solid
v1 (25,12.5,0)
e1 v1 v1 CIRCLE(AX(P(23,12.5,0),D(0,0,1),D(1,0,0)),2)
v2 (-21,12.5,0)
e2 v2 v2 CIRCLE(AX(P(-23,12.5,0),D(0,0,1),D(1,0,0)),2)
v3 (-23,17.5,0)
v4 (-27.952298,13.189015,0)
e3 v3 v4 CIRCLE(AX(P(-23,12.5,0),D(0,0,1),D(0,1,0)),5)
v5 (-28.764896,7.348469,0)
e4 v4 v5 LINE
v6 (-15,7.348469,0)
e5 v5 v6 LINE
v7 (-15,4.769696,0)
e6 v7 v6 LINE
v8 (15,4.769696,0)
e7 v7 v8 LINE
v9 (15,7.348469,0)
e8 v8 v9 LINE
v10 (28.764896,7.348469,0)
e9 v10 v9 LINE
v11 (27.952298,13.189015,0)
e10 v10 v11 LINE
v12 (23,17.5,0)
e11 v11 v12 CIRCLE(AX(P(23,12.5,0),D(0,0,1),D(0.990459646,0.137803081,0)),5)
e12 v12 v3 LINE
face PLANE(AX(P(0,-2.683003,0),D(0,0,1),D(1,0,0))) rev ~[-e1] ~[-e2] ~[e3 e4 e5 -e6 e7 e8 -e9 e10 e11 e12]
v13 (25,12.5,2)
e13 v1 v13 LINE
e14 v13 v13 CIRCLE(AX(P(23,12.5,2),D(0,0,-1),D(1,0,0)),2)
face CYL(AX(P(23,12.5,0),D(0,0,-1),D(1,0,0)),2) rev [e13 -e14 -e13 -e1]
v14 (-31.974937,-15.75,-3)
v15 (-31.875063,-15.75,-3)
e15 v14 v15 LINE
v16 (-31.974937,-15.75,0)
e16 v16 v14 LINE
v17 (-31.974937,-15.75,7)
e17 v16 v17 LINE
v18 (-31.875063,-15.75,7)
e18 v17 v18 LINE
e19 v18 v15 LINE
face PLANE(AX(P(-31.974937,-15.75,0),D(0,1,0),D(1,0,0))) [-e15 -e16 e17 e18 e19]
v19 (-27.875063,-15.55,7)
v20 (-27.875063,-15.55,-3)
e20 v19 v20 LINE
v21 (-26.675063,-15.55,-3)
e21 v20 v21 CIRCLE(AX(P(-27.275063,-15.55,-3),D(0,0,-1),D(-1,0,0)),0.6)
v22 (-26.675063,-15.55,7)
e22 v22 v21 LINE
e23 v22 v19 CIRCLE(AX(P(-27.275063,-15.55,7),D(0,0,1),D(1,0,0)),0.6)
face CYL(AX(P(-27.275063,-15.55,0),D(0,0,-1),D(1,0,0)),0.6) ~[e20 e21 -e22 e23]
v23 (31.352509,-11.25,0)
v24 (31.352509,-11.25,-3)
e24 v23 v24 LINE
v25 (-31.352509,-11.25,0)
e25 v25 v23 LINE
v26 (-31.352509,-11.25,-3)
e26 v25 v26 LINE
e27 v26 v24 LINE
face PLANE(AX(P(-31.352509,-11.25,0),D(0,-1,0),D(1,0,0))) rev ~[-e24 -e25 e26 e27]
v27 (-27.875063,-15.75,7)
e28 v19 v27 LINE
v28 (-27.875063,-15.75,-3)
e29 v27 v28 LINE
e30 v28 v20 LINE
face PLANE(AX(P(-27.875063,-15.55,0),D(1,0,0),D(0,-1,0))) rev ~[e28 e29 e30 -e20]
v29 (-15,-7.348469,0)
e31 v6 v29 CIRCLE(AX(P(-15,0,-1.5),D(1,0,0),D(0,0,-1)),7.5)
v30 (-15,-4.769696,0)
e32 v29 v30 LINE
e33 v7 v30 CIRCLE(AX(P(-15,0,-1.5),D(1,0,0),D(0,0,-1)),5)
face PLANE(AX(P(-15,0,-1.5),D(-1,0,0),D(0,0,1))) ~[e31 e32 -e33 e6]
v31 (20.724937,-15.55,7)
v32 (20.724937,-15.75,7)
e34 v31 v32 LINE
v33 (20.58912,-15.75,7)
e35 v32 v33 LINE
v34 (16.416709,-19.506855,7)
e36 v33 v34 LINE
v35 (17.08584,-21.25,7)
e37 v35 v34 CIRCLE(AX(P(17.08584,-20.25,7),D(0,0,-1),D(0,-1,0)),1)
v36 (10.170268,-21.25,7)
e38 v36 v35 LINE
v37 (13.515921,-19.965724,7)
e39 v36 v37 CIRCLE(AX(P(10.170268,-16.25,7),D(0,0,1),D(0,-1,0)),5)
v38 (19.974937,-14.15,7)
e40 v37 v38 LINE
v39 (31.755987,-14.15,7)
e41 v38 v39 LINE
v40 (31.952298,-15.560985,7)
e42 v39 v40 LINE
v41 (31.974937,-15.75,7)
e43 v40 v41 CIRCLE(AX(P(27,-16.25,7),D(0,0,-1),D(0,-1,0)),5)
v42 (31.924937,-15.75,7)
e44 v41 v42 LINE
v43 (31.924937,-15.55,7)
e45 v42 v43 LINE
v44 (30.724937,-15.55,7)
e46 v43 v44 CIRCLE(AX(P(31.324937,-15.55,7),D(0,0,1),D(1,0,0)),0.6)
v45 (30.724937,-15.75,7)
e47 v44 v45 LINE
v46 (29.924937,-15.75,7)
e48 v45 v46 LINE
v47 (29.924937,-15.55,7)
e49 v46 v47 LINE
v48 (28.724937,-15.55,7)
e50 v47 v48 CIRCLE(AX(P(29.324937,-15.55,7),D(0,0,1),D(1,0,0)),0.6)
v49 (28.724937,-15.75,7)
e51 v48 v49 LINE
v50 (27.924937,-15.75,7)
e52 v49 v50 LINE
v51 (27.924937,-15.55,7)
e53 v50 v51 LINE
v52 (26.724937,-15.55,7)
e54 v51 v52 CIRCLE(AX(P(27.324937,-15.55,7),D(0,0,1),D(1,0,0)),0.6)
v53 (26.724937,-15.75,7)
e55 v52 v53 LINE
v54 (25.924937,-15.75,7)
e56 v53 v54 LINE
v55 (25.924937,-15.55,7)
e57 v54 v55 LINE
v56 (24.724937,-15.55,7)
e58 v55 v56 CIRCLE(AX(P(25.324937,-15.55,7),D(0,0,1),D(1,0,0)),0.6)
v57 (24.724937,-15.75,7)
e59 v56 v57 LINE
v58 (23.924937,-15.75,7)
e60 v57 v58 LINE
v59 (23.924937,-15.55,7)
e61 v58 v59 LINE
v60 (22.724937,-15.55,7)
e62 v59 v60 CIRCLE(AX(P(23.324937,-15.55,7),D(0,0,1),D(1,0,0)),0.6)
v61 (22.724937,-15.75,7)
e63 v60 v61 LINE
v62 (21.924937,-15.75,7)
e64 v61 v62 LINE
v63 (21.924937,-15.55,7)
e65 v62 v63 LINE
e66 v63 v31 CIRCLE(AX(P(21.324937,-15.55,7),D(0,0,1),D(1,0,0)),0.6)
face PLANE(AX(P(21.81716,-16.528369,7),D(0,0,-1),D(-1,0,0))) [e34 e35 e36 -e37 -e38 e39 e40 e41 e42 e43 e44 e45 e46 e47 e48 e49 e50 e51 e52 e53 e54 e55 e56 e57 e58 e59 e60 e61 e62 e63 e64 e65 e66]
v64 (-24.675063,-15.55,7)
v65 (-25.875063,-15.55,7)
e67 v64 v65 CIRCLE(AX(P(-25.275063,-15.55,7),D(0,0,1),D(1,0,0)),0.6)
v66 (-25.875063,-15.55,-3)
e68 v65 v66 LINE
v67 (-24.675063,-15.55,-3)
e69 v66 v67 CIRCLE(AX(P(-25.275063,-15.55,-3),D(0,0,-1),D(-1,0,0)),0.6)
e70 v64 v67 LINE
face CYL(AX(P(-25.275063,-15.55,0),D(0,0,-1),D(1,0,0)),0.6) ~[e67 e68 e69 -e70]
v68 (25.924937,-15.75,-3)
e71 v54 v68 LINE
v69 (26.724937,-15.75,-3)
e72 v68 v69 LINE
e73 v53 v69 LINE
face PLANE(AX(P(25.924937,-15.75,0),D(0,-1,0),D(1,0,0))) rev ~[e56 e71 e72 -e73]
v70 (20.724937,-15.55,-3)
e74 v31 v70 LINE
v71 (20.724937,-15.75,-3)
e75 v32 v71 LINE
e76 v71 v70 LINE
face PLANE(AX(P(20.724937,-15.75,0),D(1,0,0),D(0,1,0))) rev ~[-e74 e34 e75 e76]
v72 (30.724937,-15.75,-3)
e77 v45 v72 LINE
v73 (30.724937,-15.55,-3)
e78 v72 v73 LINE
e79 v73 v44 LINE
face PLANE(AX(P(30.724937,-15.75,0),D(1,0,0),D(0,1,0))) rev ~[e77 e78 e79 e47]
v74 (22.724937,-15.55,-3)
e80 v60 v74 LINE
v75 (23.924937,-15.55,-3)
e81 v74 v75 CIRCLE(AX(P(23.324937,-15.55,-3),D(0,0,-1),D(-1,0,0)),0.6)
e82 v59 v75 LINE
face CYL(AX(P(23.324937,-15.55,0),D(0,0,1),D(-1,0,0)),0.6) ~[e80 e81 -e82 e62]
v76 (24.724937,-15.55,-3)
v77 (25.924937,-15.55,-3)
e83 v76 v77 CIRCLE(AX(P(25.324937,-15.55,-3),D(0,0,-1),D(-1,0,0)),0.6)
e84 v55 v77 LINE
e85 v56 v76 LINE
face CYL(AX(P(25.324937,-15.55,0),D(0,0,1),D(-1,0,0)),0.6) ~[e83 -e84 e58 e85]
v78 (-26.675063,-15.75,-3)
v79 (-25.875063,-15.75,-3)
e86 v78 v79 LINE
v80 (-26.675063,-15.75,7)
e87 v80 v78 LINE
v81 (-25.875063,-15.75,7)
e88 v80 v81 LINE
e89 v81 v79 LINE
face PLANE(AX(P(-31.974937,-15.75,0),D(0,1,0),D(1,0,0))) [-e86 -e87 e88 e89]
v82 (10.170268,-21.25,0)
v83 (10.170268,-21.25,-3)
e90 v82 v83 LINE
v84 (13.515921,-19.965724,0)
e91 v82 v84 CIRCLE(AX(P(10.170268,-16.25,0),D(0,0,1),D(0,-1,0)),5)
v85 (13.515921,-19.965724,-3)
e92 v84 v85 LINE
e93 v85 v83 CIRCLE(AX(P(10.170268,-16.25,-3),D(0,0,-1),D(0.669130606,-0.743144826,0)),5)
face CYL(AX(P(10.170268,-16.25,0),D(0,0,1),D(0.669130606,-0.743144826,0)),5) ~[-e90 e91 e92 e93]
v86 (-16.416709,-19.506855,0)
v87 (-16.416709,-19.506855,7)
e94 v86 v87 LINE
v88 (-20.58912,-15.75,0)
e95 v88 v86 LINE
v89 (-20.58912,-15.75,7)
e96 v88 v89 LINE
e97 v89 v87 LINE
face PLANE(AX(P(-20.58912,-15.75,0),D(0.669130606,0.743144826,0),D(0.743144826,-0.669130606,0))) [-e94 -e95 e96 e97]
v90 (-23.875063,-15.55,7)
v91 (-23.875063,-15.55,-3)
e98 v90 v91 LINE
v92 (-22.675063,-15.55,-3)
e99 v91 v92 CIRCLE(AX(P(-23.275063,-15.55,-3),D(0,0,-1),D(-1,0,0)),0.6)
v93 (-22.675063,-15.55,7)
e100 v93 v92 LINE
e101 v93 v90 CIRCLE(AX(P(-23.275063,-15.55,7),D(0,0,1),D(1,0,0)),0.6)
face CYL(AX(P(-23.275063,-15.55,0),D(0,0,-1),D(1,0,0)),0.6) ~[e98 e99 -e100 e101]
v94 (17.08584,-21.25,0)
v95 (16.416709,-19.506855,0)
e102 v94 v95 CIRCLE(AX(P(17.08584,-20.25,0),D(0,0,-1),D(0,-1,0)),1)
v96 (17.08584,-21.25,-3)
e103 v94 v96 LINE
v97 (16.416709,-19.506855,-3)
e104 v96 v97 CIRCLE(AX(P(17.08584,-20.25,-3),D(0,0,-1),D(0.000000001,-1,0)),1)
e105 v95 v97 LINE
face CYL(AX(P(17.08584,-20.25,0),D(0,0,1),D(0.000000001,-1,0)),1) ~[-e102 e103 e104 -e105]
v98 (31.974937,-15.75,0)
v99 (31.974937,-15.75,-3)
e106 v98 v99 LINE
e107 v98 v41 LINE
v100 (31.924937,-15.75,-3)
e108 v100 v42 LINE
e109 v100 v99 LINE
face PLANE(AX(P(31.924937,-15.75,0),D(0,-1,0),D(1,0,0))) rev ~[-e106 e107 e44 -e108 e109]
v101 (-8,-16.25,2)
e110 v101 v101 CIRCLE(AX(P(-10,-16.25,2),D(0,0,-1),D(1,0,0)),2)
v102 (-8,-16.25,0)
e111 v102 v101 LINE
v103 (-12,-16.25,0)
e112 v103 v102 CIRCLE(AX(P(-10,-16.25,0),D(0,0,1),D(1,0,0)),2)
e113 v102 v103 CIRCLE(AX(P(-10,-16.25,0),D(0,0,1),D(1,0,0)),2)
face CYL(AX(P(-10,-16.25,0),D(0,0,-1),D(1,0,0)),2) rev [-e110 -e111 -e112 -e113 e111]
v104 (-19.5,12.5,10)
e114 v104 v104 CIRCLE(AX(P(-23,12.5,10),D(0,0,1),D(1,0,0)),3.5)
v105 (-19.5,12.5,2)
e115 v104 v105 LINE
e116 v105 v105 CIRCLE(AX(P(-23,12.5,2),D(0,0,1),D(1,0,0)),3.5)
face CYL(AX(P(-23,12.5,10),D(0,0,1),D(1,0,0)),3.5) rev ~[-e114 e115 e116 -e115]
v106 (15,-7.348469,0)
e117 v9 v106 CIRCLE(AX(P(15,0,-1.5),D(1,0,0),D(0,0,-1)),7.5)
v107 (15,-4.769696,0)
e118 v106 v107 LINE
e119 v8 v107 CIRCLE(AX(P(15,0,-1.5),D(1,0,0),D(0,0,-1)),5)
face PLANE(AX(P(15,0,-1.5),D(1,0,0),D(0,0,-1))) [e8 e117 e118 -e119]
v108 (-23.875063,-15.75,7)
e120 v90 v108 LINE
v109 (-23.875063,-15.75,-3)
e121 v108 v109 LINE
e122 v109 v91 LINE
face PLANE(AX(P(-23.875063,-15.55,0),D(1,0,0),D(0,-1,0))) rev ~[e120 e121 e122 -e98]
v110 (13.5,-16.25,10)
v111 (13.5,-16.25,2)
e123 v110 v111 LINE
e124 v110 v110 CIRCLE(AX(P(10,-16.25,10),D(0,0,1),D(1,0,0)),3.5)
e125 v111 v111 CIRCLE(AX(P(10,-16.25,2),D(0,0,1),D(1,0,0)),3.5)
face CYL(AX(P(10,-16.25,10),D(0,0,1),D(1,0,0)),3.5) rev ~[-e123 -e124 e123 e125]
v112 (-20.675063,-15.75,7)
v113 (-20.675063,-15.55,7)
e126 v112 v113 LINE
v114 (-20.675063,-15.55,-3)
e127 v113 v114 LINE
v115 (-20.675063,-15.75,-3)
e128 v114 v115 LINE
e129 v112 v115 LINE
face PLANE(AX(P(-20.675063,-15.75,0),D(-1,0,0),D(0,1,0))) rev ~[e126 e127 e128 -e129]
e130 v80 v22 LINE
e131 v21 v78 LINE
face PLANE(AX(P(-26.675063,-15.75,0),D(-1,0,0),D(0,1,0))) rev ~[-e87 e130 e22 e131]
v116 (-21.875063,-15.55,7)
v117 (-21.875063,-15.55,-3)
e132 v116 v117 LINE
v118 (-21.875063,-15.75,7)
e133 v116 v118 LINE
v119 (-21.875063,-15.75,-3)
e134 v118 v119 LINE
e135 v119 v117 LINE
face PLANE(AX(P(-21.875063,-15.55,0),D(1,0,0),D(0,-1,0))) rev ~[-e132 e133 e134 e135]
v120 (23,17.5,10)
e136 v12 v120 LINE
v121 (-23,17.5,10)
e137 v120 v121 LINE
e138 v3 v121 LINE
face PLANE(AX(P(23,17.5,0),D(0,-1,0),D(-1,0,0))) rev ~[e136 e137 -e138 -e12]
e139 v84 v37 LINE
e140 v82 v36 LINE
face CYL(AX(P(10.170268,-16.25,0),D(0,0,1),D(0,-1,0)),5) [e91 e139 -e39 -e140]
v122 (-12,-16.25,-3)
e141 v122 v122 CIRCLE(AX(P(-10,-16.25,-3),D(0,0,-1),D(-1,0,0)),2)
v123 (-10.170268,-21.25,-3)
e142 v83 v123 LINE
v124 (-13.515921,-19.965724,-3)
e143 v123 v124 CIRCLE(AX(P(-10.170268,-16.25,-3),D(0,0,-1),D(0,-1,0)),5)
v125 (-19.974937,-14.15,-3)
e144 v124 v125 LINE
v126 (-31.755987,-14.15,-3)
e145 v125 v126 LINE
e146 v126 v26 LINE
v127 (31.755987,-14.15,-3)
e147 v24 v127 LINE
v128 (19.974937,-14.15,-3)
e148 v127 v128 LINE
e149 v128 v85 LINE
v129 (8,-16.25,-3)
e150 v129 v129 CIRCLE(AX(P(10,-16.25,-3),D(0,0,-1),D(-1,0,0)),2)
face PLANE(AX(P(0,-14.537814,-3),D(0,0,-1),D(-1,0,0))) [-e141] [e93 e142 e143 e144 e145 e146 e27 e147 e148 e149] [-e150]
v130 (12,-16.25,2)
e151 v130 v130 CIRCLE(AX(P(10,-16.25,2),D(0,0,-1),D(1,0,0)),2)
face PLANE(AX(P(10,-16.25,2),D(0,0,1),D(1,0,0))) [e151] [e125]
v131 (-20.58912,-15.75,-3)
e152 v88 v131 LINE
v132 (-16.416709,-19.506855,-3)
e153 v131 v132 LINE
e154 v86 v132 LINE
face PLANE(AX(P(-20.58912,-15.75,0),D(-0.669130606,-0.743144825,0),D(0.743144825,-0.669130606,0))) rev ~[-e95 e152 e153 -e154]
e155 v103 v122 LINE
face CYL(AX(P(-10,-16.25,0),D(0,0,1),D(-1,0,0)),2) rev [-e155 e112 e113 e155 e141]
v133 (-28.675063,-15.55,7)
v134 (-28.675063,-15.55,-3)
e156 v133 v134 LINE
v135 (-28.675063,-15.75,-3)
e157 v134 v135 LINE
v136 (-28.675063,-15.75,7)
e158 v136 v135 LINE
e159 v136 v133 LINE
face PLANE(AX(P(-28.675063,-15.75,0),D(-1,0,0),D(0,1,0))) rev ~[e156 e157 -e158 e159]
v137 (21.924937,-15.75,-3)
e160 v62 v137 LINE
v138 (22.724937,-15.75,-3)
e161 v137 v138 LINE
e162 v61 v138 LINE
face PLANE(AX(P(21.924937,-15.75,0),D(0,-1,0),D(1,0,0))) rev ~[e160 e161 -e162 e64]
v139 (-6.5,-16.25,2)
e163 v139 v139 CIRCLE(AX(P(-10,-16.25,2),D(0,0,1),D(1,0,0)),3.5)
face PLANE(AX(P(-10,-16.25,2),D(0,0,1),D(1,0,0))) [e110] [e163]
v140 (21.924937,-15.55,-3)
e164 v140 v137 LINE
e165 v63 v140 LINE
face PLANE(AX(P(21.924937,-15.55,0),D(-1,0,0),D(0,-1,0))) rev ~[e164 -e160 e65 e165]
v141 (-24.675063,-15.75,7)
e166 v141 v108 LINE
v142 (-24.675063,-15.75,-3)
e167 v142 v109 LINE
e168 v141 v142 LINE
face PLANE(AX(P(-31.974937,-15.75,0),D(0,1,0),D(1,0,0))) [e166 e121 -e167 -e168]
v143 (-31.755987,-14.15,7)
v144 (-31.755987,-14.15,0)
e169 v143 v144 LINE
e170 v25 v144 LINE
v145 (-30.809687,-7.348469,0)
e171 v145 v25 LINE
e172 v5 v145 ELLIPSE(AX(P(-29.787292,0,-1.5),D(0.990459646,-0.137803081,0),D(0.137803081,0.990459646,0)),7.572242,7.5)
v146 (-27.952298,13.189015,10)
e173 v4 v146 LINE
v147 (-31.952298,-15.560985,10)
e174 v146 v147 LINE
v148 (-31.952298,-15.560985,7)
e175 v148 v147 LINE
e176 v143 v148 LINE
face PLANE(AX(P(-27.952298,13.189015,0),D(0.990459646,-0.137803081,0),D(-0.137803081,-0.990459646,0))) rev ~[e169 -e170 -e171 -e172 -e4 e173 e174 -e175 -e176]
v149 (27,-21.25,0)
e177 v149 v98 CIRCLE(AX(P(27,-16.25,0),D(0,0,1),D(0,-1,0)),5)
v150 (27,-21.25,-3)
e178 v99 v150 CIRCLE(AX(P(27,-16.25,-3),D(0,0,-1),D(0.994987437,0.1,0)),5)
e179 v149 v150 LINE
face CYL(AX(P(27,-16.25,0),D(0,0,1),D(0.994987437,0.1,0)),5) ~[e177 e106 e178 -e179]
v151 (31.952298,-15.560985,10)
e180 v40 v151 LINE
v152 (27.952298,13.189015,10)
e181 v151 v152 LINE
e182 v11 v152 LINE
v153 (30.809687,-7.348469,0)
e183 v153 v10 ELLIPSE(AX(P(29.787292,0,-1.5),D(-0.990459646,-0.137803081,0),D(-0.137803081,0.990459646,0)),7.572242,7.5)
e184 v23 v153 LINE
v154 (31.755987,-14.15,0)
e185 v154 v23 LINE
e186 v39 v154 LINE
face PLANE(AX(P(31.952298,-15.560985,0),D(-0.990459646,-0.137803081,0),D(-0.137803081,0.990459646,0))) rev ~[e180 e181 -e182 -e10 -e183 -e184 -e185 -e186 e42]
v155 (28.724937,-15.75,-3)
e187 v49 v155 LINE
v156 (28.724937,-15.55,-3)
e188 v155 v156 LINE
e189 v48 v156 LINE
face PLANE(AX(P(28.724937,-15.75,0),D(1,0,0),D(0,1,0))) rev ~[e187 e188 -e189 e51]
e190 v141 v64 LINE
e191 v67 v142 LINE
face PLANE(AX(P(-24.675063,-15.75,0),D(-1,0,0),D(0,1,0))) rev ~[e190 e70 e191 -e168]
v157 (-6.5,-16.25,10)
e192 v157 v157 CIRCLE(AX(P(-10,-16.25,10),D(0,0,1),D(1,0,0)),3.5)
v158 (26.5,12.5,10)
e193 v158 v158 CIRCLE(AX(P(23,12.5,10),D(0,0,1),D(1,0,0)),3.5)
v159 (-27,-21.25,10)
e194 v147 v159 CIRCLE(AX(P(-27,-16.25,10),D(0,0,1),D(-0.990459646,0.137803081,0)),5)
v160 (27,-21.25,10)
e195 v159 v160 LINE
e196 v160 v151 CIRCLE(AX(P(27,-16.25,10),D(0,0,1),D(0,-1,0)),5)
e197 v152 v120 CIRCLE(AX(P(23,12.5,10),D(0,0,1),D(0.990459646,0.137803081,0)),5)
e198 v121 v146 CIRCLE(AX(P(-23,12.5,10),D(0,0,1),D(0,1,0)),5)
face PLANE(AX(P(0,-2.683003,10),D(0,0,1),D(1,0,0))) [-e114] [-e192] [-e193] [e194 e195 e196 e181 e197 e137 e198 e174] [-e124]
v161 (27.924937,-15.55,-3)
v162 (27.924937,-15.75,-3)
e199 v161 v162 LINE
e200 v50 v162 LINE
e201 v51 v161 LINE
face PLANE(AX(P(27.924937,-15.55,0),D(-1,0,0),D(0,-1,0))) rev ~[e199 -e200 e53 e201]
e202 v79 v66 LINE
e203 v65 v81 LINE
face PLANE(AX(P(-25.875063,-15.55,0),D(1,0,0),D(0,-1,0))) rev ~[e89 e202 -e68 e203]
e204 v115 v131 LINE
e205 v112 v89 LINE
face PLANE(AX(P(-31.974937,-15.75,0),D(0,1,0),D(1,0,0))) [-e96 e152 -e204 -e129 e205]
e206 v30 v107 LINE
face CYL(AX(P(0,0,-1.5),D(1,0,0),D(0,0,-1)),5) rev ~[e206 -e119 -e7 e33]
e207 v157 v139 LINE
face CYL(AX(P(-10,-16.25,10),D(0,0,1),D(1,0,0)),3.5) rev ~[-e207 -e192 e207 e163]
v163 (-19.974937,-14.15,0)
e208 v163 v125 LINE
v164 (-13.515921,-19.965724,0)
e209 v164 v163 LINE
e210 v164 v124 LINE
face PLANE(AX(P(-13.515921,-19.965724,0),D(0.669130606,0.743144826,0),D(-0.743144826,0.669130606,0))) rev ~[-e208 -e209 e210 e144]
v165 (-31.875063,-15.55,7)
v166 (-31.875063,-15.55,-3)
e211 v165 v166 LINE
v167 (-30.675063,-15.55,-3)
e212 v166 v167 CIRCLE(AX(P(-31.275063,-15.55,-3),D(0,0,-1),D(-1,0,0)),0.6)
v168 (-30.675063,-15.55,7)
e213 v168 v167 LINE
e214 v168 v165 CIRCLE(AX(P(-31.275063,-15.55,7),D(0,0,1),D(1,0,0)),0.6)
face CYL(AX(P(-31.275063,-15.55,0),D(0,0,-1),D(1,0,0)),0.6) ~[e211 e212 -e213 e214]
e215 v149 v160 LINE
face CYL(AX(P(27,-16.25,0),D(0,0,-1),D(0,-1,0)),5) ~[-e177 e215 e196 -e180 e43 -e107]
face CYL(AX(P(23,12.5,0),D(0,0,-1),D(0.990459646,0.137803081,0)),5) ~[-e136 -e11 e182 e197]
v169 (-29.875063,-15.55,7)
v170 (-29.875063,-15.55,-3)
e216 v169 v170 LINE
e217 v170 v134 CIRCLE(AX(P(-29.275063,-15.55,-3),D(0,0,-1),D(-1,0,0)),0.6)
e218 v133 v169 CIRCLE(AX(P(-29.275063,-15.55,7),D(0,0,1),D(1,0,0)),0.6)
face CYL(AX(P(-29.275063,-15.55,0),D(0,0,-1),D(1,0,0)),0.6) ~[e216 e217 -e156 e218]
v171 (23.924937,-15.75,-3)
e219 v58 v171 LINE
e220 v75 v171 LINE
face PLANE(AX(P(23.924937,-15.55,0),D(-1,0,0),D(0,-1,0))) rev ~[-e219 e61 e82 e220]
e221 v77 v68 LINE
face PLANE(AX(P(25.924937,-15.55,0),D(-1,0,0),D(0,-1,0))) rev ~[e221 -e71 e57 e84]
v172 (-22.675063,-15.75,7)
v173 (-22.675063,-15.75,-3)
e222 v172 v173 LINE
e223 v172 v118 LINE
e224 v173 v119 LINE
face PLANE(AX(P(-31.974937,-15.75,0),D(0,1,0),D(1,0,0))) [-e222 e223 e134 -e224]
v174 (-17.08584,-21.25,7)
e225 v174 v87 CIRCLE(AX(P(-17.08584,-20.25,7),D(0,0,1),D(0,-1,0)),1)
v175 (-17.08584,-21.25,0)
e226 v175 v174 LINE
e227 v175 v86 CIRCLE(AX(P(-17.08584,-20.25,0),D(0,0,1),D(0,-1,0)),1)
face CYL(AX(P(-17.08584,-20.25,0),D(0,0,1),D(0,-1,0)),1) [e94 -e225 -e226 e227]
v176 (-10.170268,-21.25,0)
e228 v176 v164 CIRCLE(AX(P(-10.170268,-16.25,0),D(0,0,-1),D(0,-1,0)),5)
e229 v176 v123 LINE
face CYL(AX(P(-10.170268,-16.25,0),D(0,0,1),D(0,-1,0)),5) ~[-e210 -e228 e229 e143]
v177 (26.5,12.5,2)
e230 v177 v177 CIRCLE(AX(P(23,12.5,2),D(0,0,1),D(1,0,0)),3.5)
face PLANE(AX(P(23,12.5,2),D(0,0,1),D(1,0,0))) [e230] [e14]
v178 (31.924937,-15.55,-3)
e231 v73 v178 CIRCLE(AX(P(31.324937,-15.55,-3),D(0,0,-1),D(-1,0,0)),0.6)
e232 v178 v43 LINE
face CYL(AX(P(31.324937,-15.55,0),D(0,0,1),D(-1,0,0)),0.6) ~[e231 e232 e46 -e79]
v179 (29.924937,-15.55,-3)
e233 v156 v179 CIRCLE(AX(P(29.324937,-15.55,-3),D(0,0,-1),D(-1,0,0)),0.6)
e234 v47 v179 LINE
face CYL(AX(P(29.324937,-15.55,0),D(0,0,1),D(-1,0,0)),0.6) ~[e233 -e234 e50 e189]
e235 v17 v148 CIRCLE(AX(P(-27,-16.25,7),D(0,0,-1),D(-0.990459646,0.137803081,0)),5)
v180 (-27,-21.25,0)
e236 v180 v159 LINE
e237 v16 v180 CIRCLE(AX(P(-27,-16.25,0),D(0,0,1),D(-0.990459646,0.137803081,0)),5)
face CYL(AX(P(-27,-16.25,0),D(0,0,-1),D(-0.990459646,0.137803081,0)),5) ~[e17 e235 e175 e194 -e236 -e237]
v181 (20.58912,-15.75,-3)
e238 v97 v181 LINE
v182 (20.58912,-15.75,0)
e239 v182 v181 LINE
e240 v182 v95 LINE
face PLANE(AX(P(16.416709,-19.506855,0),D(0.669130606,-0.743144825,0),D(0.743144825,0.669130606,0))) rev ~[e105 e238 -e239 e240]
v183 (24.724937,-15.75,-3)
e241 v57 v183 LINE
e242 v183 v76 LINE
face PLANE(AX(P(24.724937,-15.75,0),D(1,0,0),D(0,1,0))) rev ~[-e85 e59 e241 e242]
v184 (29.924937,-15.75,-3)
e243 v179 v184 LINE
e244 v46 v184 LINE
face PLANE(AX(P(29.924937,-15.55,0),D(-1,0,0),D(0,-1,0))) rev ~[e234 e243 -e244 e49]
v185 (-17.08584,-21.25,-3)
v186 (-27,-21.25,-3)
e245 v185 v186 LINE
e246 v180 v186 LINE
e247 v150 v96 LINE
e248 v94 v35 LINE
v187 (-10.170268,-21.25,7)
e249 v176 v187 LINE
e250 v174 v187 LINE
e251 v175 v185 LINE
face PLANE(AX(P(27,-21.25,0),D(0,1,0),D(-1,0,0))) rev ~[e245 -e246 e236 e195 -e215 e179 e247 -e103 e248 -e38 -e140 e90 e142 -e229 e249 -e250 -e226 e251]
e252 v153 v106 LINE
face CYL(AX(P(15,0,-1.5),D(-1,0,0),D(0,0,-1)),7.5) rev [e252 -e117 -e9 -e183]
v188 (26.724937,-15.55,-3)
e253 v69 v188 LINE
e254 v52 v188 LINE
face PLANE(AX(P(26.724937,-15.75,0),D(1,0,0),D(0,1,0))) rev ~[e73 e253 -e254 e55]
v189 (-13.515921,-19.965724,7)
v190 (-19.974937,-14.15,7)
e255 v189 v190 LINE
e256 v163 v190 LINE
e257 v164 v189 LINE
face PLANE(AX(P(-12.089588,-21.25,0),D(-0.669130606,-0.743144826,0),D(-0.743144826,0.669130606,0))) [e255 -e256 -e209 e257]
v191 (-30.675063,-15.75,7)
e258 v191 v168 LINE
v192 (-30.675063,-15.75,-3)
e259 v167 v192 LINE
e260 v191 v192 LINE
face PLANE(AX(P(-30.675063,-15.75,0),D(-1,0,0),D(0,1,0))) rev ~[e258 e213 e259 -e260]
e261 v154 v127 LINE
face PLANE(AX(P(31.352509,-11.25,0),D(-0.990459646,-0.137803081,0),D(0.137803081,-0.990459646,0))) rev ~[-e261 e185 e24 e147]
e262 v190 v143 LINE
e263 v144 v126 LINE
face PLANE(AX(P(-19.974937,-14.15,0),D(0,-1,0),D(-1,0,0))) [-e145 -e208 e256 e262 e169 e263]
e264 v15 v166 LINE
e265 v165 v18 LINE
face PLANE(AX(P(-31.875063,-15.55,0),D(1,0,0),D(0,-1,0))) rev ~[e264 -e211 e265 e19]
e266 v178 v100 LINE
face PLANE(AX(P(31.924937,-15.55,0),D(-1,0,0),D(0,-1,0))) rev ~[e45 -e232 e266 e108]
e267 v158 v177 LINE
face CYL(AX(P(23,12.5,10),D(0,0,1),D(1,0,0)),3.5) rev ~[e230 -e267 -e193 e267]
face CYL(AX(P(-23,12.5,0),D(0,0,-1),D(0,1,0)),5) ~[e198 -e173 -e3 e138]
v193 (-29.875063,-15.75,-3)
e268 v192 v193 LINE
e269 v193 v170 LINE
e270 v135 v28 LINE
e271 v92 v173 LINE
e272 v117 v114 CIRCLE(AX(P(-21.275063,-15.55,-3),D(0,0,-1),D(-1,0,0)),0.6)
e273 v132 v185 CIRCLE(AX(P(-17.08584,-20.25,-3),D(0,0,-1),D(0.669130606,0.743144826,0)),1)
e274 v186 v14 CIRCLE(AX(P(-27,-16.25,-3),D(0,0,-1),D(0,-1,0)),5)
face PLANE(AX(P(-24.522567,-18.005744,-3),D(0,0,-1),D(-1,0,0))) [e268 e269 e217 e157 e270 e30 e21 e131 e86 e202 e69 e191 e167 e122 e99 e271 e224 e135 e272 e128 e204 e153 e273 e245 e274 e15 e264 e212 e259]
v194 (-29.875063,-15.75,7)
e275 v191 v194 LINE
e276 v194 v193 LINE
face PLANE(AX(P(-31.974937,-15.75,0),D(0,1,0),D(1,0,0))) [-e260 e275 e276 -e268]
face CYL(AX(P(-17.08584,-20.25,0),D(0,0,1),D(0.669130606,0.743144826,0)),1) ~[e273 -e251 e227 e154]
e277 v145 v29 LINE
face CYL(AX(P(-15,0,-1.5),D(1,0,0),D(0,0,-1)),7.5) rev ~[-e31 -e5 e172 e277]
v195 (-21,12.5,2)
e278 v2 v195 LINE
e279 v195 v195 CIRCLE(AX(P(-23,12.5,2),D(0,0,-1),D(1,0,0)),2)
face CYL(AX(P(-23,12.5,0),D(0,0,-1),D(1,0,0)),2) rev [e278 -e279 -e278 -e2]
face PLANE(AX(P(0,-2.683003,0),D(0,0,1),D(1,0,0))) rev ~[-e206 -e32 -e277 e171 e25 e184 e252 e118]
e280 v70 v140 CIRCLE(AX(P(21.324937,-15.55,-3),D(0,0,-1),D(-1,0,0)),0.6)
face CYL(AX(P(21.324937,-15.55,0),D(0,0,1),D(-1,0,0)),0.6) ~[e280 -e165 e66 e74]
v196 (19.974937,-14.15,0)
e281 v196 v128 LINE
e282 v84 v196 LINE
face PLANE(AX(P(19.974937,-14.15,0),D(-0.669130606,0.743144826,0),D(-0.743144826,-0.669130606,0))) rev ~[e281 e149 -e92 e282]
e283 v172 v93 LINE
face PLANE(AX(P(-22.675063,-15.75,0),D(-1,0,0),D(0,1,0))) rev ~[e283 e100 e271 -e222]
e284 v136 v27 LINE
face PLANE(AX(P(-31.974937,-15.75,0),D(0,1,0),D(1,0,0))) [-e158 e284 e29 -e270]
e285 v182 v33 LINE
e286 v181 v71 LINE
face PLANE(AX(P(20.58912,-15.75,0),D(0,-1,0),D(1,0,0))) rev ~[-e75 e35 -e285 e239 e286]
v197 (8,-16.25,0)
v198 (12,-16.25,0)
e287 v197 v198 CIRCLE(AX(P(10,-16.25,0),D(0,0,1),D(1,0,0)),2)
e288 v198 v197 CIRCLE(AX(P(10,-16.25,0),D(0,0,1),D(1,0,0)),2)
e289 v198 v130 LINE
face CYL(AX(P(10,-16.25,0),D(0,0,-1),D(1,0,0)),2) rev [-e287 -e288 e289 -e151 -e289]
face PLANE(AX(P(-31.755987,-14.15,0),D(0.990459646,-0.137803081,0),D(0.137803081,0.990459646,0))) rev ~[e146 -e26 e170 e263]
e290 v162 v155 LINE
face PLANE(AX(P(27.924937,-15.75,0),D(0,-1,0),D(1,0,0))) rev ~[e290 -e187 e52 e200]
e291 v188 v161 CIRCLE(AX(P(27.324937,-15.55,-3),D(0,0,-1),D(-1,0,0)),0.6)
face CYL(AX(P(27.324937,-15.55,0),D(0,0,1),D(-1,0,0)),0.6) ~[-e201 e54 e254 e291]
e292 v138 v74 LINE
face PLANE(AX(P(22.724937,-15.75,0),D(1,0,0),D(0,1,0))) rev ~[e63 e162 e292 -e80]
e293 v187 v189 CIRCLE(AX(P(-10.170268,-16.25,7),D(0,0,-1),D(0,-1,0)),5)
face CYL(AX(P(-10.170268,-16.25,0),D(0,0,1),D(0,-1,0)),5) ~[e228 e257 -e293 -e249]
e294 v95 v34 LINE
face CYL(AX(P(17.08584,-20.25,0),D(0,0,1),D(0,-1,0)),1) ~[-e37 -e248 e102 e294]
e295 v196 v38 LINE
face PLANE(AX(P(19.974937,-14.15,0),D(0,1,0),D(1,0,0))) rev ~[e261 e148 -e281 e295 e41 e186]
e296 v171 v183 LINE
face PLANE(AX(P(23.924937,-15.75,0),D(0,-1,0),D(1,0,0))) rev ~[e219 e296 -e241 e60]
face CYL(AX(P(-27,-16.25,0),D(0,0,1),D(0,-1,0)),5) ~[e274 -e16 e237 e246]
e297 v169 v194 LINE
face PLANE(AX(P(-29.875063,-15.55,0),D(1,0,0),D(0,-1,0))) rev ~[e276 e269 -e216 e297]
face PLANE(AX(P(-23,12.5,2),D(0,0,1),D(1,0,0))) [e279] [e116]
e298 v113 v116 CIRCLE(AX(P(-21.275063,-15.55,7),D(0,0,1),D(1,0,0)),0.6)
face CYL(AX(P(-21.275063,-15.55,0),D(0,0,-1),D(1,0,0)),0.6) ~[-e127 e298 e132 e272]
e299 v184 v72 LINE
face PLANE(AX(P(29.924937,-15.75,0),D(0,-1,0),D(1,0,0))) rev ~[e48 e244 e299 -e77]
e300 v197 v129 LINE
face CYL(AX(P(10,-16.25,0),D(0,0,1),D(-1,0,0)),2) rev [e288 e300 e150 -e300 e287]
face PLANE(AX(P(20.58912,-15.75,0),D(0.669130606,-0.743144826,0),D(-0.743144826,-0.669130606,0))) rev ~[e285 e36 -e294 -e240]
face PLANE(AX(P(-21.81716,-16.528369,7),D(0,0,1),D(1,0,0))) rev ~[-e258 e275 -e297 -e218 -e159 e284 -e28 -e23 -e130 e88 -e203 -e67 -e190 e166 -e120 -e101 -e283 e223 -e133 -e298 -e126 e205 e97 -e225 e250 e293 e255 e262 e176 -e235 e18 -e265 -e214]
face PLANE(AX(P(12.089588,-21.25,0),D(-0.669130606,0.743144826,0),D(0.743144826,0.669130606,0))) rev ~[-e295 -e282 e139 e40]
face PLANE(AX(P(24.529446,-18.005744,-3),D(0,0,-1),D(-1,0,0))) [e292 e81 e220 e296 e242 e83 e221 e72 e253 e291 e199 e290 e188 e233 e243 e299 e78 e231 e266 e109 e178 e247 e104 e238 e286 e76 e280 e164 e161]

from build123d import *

# Parameters (mm, degrees)
SKETCH1_R               = 2
BOSS_EXTRUDE1_DEPTH     = 10
SKETCH2_R               = 5
CUT_EXTRUDE1_DEPTH      = 33
CUT_EXTRUDE1_DEPTH_BACK = 33
SKETCH3_R               = 7.5
CUT_EXTRUDE2_DEPTH      = 16
SKETCH4_R               = 3.5
CUT_EXTRUDE3_DEPTH      = 8
CUT_EXTRUDE4_DEPTH      = 7
BOSS_EXTRUDE2_START     = -10
BOSS_EXTRUDE2_DEPTH     = 7
LPATTERN1_COUNT         = 6
LPATTERN1_PITCH         = 2
LPATTERN2_COUNT         = 2
LPATTERN2_PITCH         = 52.6
LPATTERN2_START         = -10
LPATTERN2_COPY_1_DEPTH  = 7
LPATTERN2_COPY_2_DEPTH  = 7
LPATTERN2_COPY_3_DEPTH  = 7
LPATTERN2_COPY_4_DEPTH  = 7
LPATTERN2_COPY_5_DEPTH  = 7
FILLET1_R               = 5
FILLET2_R               = 1
SKETCH8_R               = 2
BOSS_EXTRUDE3_DEPTH     = 3


with BuildPart() as part:
    # Sketch1 → Boss-Extrude1 (new body)
    with BuildSketch(Plane.XY):
        with BuildLine():
            Line((-27, -21.25), (27, -21.25))
            ThreePointArc((27, -21.25), (30.771278101, -19.532904428), (31.952298231, -15.560984594))
            Line((31.952298231, -15.560984594), (27.952298231, 13.189015406))
            ThreePointArc((27.952298231, 13.189015406), (26.282904428, 16.271278101), (23, 17.5))
            Line((23, 17.5), (-23, 17.5))
            ThreePointArc((-23, 17.5), (-26.282904428, 16.271278101), (-27.952298231, 13.189015406))
            Line((-27.952298231, 13.189015406), (-31.952298231, -15.560984594))
            ThreePointArc((-31.952298231, -15.560984594), (-30.771278101, -19.532904428), (-27, -21.25))
        make_face()
        with Locations((-10, -16.25)):
            Circle(SKETCH1_R, mode=Mode.SUBTRACT)
        with Locations((10, -16.25)):
            Circle(SKETCH1_R, mode=Mode.SUBTRACT)
        with Locations((23, 12.5)):
            Circle(SKETCH1_R, mode=Mode.SUBTRACT)
        with Locations((-23, 12.5)):
            Circle(SKETCH1_R, mode=Mode.SUBTRACT)
    extrude(amount=BOSS_EXTRUDE1_DEPTH)

    # Sketch2 → Cut-Extrude1 (cut, two sides)
    with BuildSketch(Plane(origin=(0, 0, 0), x_dir=(0, 0, -1), z_dir=(1, 0, 0))) as cut_extrude1_sk:
        with Locations((1.5, 0)):
            Circle(SKETCH2_R)
    extrude(amount=CUT_EXTRUDE1_DEPTH, mode=Mode.SUBTRACT)
    extrude(cut_extrude1_sk.sketch, amount=-CUT_EXTRUDE1_DEPTH_BACK, mode=Mode.SUBTRACT)

    # Sketch3 → Cut-Extrude2 (cut)
    with BuildSketch(Plane(origin=(15, 0, 0), x_dir=(0, 0, -1), z_dir=(1, 0, 0))):
        with Locations((1.5, 0)):
            Circle(SKETCH3_R)
    cut_extrude2 = extrude(amount=CUT_EXTRUDE2_DEPTH, mode=Mode.SUBTRACT)

    # Mirror1: Cut-Extrude2 across plane
    add(cut_extrude2.mirror(Plane(origin=(0, 0, 0), x_dir=(0, 0, 1), z_dir=(1, 0, 0))), mode=Mode.SUBTRACT)

    # Sketch4 → Cut-Extrude3 (cut)
    with BuildSketch(Plane.XY.offset(10)):
        with Locations((10, -16.25)):
            Circle(SKETCH4_R)
        with Locations((-10, -16.25)):
            Circle(SKETCH4_R)
        with Locations((23, 12.5)):
            Circle(SKETCH4_R)
        with Locations((-23, 12.5)):
            Circle(SKETCH4_R)
    extrude(amount=-CUT_EXTRUDE3_DEPTH, mode=Mode.SUBTRACT)

    # Sketch6 → Cut-Extrude4 (cut)
    with BuildSketch(Plane(origin=(0, 0, 0), x_dir=(-1, 0, 0), z_dir=(0, 0, -1))):
        Polygon((-31.974937186, -15.75), (-20.589119642, -15.75), (-14.48075081, -21.25), (-12.08958833, -21.25), (-19.974937186, -14.15), (-31.974937186, -14.15), align=None)
        Polygon((20.589119642, -15.75), (14.48075081, -21.25), (12.08958833, -21.25), (19.974937186, -14.15), (31.974937186, -14.15), (31.974937186, -15.75), align=None)
    extrude(amount=-CUT_EXTRUDE4_DEPTH, mode=Mode.SUBTRACT)

    # Sketch7 → Boss-Extrude2 (add)
    with BuildSketch(Plane.XY.offset(10).offset(BOSS_EXTRUDE2_START)):
        with BuildLine():
            Line((30.724937186, -15.75), (31.924937186, -15.75))
            Line((31.924937186, -15.75), (31.924937186, -15.55))
            ThreePointArc((31.924937186, -15.55), (31.324937186, -14.95), (30.724937186, -15.55))
            Line((30.724937186, -15.55), (30.724937186, -15.75))
        make_face()
    boss_extrude2 = extrude(amount=BOSS_EXTRUDE2_DEPTH)

    # LPattern1: Boss-Extrude2 ×6
    with Locations(*[(-i * LPATTERN1_PITCH, 0, 0) for i in range(1, LPATTERN1_COUNT)]):
        add(boss_extrude2)

    # LPattern2: Boss-Extrude2 ×2
    with Locations(*[(-i * LPATTERN2_PITCH, 0, 0) for i in range(1, LPATTERN2_COUNT)]):
        add(boss_extrude2)

    # LPattern2 copy 1 sketch → LPattern2 copy 1 (add)
    with BuildSketch(Plane(origin=(-54.6, 0, 10), x_dir=(1, 0, 0), z_dir=(0, 0, 1)).offset(LPATTERN2_START)):
        with BuildLine():
            Line((30.724937186, -15.75), (31.924937186, -15.75))
            Line((31.924937186, -15.75), (31.924937186, -15.55))
            ThreePointArc((31.924937186, -15.55), (31.324937186, -14.95), (30.724937186, -15.55))
            Line((30.724937186, -15.55), (30.724937186, -15.75))
        make_face()
    extrude(amount=LPATTERN2_COPY_1_DEPTH)

    # LPattern2 copy 2 sketch → LPattern2 copy 2 (add)
    with BuildSketch(Plane(origin=(-56.6, 0, 10), x_dir=(1, 0, 0), z_dir=(0, 0, 1)).offset(LPATTERN2_START)):
        with BuildLine():
            Line((30.724937186, -15.75), (31.924937186, -15.75))
            Line((31.924937186, -15.75), (31.924937186, -15.55))
            ThreePointArc((31.924937186, -15.55), (31.324937186, -14.95), (30.724937186, -15.55))
            Line((30.724937186, -15.55), (30.724937186, -15.75))
        make_face()
    extrude(amount=LPATTERN2_COPY_2_DEPTH)

    # LPattern2 copy 3 sketch → LPattern2 copy 3 (add)
    with BuildSketch(Plane(origin=(-58.6, 0, 10), x_dir=(1, 0, 0), z_dir=(0, 0, 1)).offset(LPATTERN2_START)):
        with BuildLine():
            Line((30.724937186, -15.75), (31.924937186, -15.75))
            Line((31.924937186, -15.75), (31.924937186, -15.55))
            ThreePointArc((31.924937186, -15.55), (31.324937186, -14.95), (30.724937186, -15.55))
            Line((30.724937186, -15.55), (30.724937186, -15.75))
        make_face()
    extrude(amount=LPATTERN2_COPY_3_DEPTH)

    # LPattern2 copy 4 sketch → LPattern2 copy 4 (add)
    with BuildSketch(Plane(origin=(-60.6, 0, 10), x_dir=(1, 0, 0), z_dir=(0, 0, 1)).offset(LPATTERN2_START)):
        with BuildLine():
            Line((30.724937186, -15.75), (31.924937186, -15.75))
            Line((31.924937186, -15.75), (31.924937186, -15.55))
            ThreePointArc((31.924937186, -15.55), (31.324937186, -14.95), (30.724937186, -15.55))
            Line((30.724937186, -15.55), (30.724937186, -15.75))
        make_face()
    extrude(amount=LPATTERN2_COPY_4_DEPTH)

    # LPattern2 copy 5 sketch → LPattern2 copy 5 (add)
    with BuildSketch(Plane(origin=(-62.6, 0, 10), x_dir=(1, 0, 0), z_dir=(0, 0, 1)).offset(LPATTERN2_START)):
        with BuildLine():
            Line((30.724937186, -15.75), (31.924937186, -15.75))
            Line((31.924937186, -15.75), (31.924937186, -15.55))
            ThreePointArc((31.924937186, -15.55), (31.324937186, -14.95), (30.724937186, -15.55))
            Line((30.724937186, -15.55), (30.724937186, -15.75))
        make_face()
    extrude(amount=LPATTERN2_COPY_5_DEPTH)

    # Fillet1
    fillet1_edges = [part.edges().sort_by_distance(p)[0] for p in [
        (12.08958833, -21.25, 3.5),
        (-12.08958833, -21.25, 3.5),
    ]]
    fillet(fillet1_edges, radius=FILLET1_R)

    # Fillet2
    fillet2_edges = [part.edges().sort_by_distance(p)[0] for p in [
        (14.48075081, -21.25, 3.5),
        (-14.48075081, -21.25, 3.5),
    ]]
    fillet(fillet2_edges, radius=FILLET2_R)

    # Sketch8 → Boss-Extrude3 (add)
    with BuildSketch(Plane(origin=(0, 0, 0), x_dir=(-1, 0, 0), z_dir=(0, 0, -1))):
        with BuildLine():
            Line((-31.924937186, -15.75), (-31.974937186, -15.75))
            ThreePointArc((-31.974937186, -15.75), (-30.708099244, -19.604101966), (-27, -21.25))
            Line((-27, -21.25), (-17.085839875, -21.25))
            ThreePointArc((-17.085839875, -21.25), (-16.152259448, -20.60836795), (-16.416709268, -19.506855175))
            Line((-16.416709268, -19.506855175), (-20.589119642, -15.75))
            Line((-20.589119642, -15.75), (-20.724937186, -15.75))
            Line((-20.724937186, -15.75), (-20.724937186, -15.55))
            ThreePointArc((-20.724937186, -15.55), (-21.324937186, -14.95), (-21.924937186, -15.55))
            Line((-21.924937186, -15.55), (-21.924937186, -15.75))
            Line((-21.924937186, -15.75), (-22.724937186, -15.75))
            Line((-22.724937186, -15.75), (-22.724937186, -15.55))
            ThreePointArc((-22.724937186, -15.55), (-23.324937186, -14.95), (-23.924937186, -15.55))
            Line((-23.924937186, -15.55), (-23.924937186, -15.75))
            Line((-23.924937186, -15.75), (-24.724937186, -15.75))
            Line((-24.724937186, -15.75), (-24.724937186, -15.55))
            ThreePointArc((-24.724937186, -15.55), (-25.324937186, -14.95), (-25.924937186, -15.55))
            Line((-25.924937186, -15.55), (-25.924937186, -15.75))
            Line((-25.924937186, -15.75), (-26.724937186, -15.75))
            Line((-26.724937186, -15.75), (-26.724937186, -15.55))
            ThreePointArc((-26.724937186, -15.55), (-27.324937186, -14.95), (-27.924937186, -15.55))
            Line((-27.924937186, -15.55), (-27.924937186, -15.75))
            Line((-27.924937186, -15.75), (-28.724937186, -15.75))
            Line((-28.724937186, -15.75), (-28.724937186, -15.55))
            ThreePointArc((-28.724937186, -15.55), (-29.324937186, -14.95), (-29.924937186, -15.55))
            Line((-29.924937186, -15.55), (-29.924937186, -15.75))
            Line((-29.924937186, -15.75), (-30.724937186, -15.75))
            Line((-30.724937186, -15.75), (-30.724937186, -15.55))
            ThreePointArc((-30.724937186, -15.55), (-31.324937186, -14.95), (-31.924937186, -15.55))
            Line((-31.924937186, -15.55), (-31.924937186, -15.75))
        make_face()
        with BuildLine():
            Line((-31.755987331, -14.15), (-19.974937186, -14.15))
            Line((-19.974937186, -14.15), (-13.515921187, -19.965724127))
            ThreePointArc((-13.515921187, -19.965724127), (-11.962107903, -20.917902132), (-10.170268155, -21.25))
            Line((-10.170268155, -21.25), (10.170268155, -21.25))
            ThreePointArc((10.170268155, -21.25), (11.962107903, -20.917902132), (13.515921187, -19.965724127))
            Line((13.515921187, -19.965724127), (19.974937186, -14.15))
            Line((19.974937186, -14.15), (31.755987331, -14.15))
            Line((31.755987331, -14.15), (31.35250907, -11.25))
            Line((31.35250907, -11.25), (-31.35250907, -11.25))
            Line((-31.35250907, -11.25), (-31.755987331, -14.15))
        make_face()
        with Locations((-10, -16.25)):
            Circle(SKETCH8_R, mode=Mode.SUBTRACT)
        with Locations((10, -16.25)):
            Circle(SKETCH8_R, mode=Mode.SUBTRACT)
        with BuildLine():
            Line((21.875062814, -15.75), (21.875062814, -15.55))
            ThreePointArc((21.875062814, -15.55), (21.275062814, -14.95), (20.675062814, -15.55))
            Line((20.675062814, -15.55), (20.675062814, -15.75))
            Line((20.675062814, -15.75), (20.589119642, -15.75))
            Line((20.589119642, -15.75), (16.416709268, -19.506855175))
            ThreePointArc((16.416709268, -19.506855175), (16.152259448, -20.60836795), (17.085839875, -21.25))
            Line((17.085839875, -21.25), (27, -21.25))
            ThreePointArc((27, -21.25), (30.708099244, -19.604101966), (31.974937186, -15.75))
            Line((31.974937186, -15.75), (31.875062814, -15.75))
            Line((31.875062814, -15.75), (31.875062814, -15.55))
            ThreePointArc((31.875062814, -15.55), (31.275062814, -14.95), (30.675062814, -15.55))
            Line((30.675062814, -15.55), (30.675062814, -15.75))
            Line((30.675062814, -15.75), (29.875062814, -15.75))
            Line((29.875062814, -15.75), (29.875062814, -15.55))
            ThreePointArc((29.875062814, -15.55), (29.275062814, -14.95), (28.675062814, -15.55))
            Line((28.675062814, -15.55), (28.675062814, -15.75))
            Line((28.675062814, -15.75), (27.875062814, -15.75))
            Line((27.875062814, -15.75), (27.875062814, -15.55))
            ThreePointArc((27.875062814, -15.55), (27.275062814, -14.95), (26.675062814, -15.55))
            Line((26.675062814, -15.55), (26.675062814, -15.75))
            Line((26.675062814, -15.75), (25.875062814, -15.75))
            Line((25.875062814, -15.75), (25.875062814, -15.55))
            ThreePointArc((25.875062814, -15.55), (25.275062814, -14.95), (24.675062814, -15.55))
            Line((24.675062814, -15.55), (24.675062814, -15.75))
            Line((24.675062814, -15.75), (23.875062814, -15.75))
            Line((23.875062814, -15.75), (23.875062814, -15.55))
            ThreePointArc((23.875062814, -15.55), (23.275062814, -14.95), (22.675062814, -15.55))
            Line((22.675062814, -15.55), (22.675062814, -15.75))
            Line((22.675062814, -15.75), (21.875062814, -15.75))
        make_face()
    extrude(amount=BOSS_EXTRUDE3_DEPTH)


solid = part.part
